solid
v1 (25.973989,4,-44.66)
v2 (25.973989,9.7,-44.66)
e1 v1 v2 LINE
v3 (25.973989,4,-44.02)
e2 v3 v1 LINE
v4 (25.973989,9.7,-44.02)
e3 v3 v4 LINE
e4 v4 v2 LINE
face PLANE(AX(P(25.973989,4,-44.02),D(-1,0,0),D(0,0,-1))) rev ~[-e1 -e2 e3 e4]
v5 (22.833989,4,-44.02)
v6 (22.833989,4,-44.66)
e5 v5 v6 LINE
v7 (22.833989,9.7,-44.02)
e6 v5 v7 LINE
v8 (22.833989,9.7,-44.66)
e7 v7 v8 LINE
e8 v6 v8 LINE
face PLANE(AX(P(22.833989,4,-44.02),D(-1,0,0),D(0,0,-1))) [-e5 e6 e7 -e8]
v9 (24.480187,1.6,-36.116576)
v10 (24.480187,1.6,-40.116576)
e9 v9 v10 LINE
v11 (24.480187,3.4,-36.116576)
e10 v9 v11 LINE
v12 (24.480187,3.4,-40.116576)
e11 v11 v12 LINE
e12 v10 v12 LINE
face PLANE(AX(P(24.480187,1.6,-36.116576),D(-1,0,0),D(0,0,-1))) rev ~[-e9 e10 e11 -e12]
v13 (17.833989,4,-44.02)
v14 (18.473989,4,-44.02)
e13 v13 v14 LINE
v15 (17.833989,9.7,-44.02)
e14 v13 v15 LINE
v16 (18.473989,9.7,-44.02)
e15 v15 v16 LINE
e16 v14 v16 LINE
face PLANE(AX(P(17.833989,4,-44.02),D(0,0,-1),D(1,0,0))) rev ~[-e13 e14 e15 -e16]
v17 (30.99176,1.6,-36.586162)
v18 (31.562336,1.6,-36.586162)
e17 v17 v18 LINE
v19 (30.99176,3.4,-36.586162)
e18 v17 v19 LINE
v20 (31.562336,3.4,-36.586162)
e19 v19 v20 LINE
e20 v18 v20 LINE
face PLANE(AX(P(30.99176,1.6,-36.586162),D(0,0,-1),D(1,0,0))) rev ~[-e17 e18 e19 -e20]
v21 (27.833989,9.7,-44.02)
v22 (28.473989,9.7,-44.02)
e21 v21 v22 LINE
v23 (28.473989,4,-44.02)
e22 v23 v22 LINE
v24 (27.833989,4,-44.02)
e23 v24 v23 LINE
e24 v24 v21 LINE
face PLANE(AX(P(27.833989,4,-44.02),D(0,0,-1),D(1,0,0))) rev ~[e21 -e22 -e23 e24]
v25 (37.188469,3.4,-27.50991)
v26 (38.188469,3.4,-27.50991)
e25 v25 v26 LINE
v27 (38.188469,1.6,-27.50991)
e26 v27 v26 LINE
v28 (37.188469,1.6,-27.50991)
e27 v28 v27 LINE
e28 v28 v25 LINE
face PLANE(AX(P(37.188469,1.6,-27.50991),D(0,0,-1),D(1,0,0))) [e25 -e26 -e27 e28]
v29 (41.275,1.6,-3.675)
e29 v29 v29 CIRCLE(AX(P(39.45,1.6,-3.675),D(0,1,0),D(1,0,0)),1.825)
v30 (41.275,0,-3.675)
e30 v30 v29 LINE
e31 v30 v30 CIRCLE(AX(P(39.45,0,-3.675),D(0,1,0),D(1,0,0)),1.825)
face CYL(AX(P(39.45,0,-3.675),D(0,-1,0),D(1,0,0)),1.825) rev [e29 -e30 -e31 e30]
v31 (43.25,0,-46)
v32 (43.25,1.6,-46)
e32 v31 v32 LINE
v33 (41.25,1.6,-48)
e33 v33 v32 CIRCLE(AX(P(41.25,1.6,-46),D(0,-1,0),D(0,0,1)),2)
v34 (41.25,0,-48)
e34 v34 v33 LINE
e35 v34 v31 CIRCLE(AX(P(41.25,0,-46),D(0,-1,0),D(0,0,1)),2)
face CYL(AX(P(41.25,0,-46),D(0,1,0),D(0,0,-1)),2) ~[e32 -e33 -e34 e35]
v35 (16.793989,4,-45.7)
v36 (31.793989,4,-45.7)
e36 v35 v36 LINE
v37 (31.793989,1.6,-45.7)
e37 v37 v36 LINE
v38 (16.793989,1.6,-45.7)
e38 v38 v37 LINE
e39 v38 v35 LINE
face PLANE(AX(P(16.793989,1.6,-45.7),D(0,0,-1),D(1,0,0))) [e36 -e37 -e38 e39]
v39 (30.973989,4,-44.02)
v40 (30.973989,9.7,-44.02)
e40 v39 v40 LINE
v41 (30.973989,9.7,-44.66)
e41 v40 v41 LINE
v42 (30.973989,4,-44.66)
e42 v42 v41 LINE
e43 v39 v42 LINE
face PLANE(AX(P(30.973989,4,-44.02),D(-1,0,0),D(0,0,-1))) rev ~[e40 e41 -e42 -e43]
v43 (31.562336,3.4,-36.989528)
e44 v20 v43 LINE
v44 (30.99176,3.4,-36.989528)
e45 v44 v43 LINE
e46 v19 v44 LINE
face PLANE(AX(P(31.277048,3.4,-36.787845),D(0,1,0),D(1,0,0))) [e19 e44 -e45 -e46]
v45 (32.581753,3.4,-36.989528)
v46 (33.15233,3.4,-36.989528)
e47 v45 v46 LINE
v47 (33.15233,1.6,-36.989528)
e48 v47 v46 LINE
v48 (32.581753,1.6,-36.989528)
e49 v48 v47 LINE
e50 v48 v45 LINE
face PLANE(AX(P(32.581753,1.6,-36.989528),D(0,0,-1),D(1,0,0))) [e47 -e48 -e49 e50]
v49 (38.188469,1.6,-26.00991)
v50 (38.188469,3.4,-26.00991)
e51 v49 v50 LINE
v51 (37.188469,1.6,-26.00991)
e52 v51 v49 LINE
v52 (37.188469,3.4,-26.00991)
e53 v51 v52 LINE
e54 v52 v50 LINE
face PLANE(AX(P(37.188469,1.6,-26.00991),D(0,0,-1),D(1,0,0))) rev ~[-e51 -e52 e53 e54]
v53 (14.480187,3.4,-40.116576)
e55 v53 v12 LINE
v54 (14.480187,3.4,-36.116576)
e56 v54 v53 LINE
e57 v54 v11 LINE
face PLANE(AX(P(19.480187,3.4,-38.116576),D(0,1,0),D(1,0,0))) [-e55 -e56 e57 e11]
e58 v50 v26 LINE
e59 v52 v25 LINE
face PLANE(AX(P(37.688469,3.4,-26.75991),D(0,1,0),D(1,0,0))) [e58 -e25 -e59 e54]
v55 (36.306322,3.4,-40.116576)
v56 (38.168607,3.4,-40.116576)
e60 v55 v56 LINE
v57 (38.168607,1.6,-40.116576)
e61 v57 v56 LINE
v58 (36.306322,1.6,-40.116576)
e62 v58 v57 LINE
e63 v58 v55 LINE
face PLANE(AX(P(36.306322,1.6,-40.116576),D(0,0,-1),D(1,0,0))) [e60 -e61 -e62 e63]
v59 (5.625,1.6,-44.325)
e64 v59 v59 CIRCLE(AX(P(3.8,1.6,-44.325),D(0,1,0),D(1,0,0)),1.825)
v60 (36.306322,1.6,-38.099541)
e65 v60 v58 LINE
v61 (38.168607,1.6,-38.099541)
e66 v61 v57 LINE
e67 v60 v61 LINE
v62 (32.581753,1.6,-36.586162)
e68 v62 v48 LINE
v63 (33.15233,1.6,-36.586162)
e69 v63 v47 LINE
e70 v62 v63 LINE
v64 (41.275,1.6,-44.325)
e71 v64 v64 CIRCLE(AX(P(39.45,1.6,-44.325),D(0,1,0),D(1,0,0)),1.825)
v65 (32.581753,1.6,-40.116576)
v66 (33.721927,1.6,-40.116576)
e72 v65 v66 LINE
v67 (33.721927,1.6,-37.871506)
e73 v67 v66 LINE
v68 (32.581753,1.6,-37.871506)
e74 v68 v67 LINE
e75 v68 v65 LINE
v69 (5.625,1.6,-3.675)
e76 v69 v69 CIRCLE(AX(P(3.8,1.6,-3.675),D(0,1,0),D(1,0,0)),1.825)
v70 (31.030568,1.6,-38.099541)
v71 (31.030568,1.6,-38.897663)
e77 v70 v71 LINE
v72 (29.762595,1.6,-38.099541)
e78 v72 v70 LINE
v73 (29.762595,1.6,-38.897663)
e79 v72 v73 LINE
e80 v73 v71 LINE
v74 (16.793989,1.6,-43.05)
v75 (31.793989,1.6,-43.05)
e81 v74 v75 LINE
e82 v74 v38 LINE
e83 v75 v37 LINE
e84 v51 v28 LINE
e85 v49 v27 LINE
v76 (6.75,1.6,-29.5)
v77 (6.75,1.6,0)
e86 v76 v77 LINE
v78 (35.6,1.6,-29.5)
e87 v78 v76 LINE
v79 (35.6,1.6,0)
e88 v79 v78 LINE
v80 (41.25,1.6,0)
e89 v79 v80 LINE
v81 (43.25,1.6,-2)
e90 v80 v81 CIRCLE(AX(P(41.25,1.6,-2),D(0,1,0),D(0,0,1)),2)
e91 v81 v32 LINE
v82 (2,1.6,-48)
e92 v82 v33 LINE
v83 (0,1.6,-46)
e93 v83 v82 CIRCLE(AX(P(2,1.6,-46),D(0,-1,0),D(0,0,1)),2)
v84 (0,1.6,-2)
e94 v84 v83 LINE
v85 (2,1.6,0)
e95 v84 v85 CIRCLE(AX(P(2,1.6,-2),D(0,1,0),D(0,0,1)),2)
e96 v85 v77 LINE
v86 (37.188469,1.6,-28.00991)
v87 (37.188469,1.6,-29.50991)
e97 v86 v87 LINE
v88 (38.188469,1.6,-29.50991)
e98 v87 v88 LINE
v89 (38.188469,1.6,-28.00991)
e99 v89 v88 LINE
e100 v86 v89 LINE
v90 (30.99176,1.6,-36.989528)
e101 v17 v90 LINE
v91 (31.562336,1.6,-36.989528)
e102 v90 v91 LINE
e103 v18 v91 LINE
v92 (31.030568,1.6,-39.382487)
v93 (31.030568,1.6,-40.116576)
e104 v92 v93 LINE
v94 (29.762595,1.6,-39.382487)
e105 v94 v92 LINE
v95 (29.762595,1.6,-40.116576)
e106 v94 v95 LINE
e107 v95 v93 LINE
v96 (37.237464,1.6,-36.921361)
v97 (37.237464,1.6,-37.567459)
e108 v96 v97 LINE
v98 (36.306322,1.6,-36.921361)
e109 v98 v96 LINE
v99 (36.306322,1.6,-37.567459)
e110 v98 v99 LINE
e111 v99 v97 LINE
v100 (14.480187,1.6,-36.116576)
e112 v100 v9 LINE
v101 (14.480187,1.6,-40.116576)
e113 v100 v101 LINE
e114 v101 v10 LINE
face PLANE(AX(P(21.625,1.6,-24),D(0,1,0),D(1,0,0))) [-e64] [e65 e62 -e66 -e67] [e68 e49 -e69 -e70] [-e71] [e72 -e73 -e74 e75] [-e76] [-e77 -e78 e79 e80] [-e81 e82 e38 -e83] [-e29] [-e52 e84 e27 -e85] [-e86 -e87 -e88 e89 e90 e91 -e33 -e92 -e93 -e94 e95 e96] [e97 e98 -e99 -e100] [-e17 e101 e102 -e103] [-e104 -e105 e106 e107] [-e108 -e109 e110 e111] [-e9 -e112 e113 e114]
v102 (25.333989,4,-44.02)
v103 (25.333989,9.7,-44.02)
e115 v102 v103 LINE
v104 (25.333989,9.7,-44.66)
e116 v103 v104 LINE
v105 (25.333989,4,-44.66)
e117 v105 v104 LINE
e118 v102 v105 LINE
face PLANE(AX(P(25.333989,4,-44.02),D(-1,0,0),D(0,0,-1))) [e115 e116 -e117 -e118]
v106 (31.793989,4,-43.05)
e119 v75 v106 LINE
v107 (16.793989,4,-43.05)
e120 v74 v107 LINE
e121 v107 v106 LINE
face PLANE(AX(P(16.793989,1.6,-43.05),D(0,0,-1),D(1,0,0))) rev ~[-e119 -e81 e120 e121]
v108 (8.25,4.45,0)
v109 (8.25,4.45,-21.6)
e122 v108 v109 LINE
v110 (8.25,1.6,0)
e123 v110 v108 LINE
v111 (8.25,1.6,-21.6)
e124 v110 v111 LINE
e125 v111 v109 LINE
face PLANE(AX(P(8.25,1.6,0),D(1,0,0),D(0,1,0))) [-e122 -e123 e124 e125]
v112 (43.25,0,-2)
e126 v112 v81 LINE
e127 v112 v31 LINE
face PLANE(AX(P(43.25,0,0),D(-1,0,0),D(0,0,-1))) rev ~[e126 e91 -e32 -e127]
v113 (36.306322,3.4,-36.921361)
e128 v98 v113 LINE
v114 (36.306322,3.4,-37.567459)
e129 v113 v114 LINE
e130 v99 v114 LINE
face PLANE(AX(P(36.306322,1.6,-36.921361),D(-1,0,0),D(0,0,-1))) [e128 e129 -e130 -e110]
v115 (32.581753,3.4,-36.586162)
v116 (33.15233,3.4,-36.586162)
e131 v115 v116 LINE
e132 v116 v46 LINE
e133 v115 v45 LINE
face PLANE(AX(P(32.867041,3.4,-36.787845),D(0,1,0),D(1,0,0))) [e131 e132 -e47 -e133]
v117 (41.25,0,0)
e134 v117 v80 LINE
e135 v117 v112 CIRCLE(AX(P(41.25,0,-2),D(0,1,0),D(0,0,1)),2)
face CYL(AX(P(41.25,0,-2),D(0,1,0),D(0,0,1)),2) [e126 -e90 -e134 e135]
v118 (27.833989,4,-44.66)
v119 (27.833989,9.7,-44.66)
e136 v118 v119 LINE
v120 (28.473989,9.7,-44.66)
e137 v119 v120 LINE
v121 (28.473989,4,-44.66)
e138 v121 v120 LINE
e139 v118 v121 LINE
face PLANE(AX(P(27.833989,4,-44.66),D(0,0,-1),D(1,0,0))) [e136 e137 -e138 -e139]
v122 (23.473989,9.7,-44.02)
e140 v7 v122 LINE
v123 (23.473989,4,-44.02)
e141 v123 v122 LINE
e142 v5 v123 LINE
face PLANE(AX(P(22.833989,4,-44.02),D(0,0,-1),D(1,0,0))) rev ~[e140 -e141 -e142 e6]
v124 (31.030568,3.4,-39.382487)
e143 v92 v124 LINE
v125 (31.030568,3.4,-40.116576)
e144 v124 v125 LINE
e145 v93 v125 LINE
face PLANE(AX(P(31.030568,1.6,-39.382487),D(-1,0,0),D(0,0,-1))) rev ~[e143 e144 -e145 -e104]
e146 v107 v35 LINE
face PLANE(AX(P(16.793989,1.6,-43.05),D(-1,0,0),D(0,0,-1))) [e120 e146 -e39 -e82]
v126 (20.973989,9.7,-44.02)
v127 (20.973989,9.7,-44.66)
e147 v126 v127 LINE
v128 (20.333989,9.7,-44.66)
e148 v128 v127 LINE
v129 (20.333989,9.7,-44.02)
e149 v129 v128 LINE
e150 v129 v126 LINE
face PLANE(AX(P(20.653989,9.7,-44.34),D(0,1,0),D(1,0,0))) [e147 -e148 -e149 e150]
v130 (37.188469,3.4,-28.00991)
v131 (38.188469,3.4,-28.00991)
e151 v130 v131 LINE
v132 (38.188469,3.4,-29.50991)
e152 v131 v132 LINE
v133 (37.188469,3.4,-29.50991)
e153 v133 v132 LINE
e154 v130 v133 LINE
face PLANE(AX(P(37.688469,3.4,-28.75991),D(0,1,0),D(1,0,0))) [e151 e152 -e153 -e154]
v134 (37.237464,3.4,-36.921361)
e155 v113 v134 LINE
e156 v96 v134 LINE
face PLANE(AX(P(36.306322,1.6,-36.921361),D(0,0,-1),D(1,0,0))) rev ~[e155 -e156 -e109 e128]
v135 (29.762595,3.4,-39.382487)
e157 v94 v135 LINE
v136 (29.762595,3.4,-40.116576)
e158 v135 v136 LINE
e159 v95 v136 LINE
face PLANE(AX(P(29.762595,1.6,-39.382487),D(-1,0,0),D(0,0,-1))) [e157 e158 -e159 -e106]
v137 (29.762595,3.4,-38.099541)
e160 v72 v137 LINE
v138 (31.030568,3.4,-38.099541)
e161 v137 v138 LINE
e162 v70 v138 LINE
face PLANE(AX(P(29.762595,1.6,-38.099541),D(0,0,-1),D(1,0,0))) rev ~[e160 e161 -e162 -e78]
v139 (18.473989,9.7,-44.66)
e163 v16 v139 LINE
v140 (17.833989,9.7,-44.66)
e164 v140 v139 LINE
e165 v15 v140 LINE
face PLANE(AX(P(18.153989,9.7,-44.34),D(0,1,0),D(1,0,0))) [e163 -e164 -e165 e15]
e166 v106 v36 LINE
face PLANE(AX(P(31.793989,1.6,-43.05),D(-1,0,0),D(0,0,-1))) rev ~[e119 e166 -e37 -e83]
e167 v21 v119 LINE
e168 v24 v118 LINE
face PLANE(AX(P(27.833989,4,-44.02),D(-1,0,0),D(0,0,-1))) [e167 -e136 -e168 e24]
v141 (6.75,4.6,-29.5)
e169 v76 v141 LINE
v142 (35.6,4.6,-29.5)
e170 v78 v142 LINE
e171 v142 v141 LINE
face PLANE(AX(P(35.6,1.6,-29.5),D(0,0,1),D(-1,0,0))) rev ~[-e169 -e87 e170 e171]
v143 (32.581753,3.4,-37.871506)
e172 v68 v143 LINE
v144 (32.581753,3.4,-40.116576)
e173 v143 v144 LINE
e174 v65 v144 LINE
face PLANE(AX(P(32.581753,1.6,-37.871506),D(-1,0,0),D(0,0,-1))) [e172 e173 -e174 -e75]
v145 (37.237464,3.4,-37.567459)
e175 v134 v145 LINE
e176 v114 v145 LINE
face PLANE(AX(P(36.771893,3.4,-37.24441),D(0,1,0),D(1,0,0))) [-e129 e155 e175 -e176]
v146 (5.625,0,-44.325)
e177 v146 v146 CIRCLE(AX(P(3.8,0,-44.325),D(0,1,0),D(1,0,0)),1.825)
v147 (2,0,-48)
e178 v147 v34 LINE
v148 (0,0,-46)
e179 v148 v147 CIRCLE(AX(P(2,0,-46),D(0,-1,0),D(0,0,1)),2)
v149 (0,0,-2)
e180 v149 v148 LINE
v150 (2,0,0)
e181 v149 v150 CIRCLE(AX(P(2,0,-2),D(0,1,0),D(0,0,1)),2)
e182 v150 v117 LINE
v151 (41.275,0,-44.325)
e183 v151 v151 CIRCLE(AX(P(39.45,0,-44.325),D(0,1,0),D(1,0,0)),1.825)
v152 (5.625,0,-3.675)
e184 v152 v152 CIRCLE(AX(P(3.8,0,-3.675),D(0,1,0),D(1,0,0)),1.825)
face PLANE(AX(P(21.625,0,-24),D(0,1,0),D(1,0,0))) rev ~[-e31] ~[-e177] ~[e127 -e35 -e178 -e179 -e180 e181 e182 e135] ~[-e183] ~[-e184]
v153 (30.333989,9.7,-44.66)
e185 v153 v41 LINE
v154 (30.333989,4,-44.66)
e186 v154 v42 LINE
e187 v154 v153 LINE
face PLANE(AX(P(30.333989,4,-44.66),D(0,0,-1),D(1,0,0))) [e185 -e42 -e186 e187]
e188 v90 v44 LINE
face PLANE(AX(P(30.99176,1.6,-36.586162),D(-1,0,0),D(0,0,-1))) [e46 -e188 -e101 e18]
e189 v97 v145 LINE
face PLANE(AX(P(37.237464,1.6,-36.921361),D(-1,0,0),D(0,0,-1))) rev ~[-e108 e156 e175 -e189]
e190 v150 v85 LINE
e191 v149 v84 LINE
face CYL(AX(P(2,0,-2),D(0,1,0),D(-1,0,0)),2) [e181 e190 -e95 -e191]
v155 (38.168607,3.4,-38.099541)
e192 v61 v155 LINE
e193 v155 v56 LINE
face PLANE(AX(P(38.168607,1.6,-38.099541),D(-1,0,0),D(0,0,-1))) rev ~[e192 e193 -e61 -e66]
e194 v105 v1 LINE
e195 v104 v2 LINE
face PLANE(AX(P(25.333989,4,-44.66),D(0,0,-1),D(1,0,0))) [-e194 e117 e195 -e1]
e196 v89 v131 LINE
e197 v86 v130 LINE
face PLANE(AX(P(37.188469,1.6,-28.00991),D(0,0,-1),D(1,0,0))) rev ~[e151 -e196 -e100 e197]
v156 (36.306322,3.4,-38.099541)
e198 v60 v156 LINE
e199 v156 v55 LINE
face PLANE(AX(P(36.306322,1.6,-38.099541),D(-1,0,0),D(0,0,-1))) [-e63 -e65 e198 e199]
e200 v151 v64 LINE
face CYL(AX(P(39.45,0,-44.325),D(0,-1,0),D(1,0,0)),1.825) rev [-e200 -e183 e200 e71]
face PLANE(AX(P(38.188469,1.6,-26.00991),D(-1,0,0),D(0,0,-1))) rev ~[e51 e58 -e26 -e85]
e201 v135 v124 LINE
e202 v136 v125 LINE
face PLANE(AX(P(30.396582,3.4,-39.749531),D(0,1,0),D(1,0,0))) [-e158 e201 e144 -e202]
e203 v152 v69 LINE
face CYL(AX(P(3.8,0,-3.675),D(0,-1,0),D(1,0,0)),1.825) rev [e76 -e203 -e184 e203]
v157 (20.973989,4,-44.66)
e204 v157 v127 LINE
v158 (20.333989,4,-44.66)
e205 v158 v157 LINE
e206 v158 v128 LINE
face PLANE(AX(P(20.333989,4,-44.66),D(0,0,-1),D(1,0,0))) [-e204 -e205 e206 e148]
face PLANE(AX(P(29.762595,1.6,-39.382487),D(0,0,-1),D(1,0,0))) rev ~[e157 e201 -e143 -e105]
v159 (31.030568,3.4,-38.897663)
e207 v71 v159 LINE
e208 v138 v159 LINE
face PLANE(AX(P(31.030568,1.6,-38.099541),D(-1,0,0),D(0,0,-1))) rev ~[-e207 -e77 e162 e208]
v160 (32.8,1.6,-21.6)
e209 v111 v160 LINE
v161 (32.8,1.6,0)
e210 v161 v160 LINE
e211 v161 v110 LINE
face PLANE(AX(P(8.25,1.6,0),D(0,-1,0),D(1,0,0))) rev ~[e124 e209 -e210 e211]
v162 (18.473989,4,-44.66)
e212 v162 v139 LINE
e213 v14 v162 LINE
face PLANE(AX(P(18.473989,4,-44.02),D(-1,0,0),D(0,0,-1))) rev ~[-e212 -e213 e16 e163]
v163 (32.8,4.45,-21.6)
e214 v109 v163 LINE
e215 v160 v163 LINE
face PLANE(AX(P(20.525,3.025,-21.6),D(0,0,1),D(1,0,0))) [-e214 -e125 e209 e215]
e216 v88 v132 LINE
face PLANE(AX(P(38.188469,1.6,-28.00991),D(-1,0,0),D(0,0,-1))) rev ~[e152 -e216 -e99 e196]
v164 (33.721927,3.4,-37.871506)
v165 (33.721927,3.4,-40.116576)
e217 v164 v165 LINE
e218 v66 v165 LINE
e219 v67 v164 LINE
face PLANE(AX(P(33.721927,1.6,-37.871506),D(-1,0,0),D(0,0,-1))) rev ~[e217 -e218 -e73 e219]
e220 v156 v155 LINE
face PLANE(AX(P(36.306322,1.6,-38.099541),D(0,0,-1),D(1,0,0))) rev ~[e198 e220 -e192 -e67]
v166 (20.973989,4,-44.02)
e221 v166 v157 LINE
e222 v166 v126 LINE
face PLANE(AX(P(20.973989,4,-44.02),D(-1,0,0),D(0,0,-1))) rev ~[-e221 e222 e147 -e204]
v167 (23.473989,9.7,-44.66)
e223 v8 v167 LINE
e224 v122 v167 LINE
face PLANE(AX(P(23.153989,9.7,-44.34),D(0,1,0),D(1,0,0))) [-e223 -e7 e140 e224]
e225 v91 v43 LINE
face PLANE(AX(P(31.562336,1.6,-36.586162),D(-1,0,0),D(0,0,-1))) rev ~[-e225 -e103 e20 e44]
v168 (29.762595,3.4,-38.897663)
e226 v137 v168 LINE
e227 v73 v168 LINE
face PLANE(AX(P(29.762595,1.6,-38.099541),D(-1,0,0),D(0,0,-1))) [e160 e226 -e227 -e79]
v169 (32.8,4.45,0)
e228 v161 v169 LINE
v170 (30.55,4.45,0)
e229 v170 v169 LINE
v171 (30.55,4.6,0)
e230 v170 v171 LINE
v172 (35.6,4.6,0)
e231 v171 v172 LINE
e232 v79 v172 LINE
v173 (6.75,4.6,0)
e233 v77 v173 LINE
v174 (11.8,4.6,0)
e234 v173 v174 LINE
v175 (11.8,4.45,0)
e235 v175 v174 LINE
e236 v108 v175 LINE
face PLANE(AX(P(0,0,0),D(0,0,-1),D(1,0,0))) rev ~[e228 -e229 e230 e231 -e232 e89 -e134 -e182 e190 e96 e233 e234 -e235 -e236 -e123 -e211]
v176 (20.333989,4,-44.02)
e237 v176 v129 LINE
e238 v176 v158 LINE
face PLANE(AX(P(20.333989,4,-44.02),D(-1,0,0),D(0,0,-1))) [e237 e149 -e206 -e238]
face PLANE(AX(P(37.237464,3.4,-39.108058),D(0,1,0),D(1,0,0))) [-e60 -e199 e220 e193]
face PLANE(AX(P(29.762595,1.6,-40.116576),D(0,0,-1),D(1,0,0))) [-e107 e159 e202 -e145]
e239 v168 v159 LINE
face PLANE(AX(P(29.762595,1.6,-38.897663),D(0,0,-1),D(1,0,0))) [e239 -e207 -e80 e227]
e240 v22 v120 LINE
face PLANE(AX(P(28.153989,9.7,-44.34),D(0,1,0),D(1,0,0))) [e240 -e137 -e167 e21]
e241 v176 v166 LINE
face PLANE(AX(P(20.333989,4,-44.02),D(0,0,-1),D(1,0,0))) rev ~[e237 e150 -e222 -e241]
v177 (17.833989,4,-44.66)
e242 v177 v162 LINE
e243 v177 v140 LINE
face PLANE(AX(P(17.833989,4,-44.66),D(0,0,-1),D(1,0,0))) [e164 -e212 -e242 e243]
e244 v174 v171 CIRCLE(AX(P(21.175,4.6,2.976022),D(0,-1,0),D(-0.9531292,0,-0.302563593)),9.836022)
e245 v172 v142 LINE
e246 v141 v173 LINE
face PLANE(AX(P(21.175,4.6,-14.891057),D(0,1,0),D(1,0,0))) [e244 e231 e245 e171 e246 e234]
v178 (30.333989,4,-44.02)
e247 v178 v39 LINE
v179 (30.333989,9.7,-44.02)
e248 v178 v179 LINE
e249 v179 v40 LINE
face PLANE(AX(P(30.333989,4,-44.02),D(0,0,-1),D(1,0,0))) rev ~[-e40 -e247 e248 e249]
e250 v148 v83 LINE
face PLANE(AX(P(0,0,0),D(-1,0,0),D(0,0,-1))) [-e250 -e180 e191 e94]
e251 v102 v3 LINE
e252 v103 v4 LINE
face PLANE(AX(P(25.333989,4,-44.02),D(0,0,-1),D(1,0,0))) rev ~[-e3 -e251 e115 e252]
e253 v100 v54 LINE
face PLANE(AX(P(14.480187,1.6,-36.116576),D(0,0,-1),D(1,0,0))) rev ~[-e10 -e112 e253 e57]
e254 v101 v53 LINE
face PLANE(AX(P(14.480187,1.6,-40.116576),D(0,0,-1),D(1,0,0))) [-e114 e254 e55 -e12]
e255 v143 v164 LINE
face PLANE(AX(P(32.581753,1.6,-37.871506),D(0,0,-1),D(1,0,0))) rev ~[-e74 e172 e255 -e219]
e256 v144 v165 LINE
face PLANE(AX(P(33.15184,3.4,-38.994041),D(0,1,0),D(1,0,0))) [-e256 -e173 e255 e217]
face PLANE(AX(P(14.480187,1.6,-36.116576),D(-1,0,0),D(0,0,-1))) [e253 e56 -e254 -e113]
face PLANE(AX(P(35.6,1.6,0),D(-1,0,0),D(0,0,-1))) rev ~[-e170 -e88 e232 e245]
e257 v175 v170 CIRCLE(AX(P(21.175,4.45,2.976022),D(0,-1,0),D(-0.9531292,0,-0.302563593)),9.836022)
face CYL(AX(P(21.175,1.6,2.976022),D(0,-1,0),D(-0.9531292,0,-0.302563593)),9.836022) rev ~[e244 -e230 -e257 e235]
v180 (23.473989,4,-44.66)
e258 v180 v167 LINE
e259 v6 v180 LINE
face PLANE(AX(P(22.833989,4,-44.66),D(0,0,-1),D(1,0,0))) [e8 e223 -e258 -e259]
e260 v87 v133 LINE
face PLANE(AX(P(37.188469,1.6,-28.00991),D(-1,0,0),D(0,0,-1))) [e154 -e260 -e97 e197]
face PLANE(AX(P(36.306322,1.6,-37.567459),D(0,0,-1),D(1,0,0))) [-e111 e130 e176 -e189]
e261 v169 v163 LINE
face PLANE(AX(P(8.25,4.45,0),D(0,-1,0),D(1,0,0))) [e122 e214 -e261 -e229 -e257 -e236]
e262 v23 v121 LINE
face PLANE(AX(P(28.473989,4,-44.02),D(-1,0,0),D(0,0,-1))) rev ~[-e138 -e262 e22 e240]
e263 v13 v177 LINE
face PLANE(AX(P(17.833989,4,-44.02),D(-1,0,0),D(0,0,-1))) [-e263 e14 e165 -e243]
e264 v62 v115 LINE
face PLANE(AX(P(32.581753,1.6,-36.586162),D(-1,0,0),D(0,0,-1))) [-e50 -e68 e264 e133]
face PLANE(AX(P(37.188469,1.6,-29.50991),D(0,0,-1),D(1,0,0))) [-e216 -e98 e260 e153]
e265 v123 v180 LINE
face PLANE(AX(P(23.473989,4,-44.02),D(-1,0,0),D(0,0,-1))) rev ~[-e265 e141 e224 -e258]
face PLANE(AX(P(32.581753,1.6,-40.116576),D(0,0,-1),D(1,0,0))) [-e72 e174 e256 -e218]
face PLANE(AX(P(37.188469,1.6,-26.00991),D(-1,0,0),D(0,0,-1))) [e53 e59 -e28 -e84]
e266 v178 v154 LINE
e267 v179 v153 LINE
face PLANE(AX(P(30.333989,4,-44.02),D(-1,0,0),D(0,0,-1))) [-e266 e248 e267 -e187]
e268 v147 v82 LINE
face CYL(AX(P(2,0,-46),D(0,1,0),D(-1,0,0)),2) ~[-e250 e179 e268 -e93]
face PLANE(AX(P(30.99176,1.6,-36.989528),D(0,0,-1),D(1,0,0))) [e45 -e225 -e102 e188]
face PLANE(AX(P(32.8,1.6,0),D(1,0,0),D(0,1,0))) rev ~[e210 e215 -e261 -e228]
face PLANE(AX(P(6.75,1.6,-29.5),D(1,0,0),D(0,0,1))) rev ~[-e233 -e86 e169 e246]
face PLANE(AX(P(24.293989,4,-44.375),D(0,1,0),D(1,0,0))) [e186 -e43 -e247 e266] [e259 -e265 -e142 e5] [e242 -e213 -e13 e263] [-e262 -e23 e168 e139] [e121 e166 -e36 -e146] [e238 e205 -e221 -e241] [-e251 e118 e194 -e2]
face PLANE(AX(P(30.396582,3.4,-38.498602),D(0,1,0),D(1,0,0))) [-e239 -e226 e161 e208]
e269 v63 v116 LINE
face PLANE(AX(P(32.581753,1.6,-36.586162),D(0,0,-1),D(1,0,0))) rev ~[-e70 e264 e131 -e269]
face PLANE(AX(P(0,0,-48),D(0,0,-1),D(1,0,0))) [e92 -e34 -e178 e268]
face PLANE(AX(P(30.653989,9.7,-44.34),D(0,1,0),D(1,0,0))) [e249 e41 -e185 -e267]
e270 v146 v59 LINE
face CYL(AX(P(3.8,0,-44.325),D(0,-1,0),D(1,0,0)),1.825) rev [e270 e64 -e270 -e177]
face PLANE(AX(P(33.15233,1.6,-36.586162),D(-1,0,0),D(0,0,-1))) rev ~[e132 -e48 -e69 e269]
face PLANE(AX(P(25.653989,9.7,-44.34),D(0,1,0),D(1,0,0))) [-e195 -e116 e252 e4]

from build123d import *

# Parameters (mm, degrees)
SKETCH1_W               = 43.25
SKETCH1_H               = 48
SKETCH1_R               = 1.825
BOSS_EXTRUDE1_DEPTH     = 1.6
BOSS_EXTRUDE2_DEPTH     = 3
SKETCH3_W               = 24.55
SKETCH3_H               = 2.85
CUT_EXTRUDE1_DEPTH      = 21.6
SKETCH5_W               = 15
SKETCH5_H               = 2.65
BOSS_EXTRUDE4_DEPTH     = 2.4
SKETCH6_W               = 0.64
SKETCH6_H               = 0.64
BOSS_EXTRUDE5_DEPTH     = 5.7
FILLET1_R               = 2
CROQUIS1_W              = 1
CROQUIS1_H              = 1.5
CROQUIS1_W_2            = 10
CROQUIS1_H_2            = 4
CROQUIS1_W_3            = 1.267972753
CROQUIS1_H_3            = 0.734089488
CROQUIS1_H_4            = 0.798121905
CROQUIS1_W_4            = 1.14017415
CROQUIS1_H_5            = 2.245070142
CROQUIS1_W_5            = 1.862284445
CROQUIS1_H_6            = 2.017035312
CROQUIS1_W_6            = 0.931142223
CROQUIS1_H_7            = 0.646098685
CROQUIS1_W_7            = 0.570576299
CROQUIS1_H_8            = 0.403366405
SALIENTE_EXTRUIR1_DEPTH = 1.8


with BuildPart() as part:
    # Sketch1 → Boss-Extrude1 (new body)
    with BuildSketch(Plane(origin=(0, 0, 0), x_dir=(1, 0, 0), z_dir=(0, 1, 0))):
        with Locations((21.625, 24)):
            Rectangle(SKETCH1_W, SKETCH1_H)
        with Locations((3.8, 44.325)):
            Circle(SKETCH1_R, mode=Mode.SUBTRACT)
        with Locations((3.8, 3.675)):
            Circle(SKETCH1_R, mode=Mode.SUBTRACT)
        with Locations((39.45, 44.325)):
            Circle(SKETCH1_R, mode=Mode.SUBTRACT)
        with Locations((39.45, 3.675)):
            Circle(SKETCH1_R, mode=Mode.SUBTRACT)
    extrude(amount=BOSS_EXTRUDE1_DEPTH)

    # Sketch2 → Boss-Extrude2 (add)
    with BuildSketch(Plane(origin=(0, 1.6, 0), x_dir=(1, 0, 0), z_dir=(0, 1, 0))):
        with BuildLine():
            Line((6.75, 0), (11.8, 0))
            ThreePointArc((11.8, 0), (21.175, 6.86), (30.55, 0))
            Line((30.55, 0), (35.6, 0))
            Line((35.6, 0), (35.6, 29.5))
            Line((35.6, 29.5), (6.75, 29.5))
            Line((6.75, 29.5), (6.75, 0))
        make_face()
    extrude(amount=BOSS_EXTRUDE2_DEPTH)

    # Sketch3 → Cut-Extrude1 (cut)
    with BuildSketch(Plane.XY):
        with Locations((20.525, 3.025)):
            Rectangle(SKETCH3_W, SKETCH3_H)
    extrude(amount=-CUT_EXTRUDE1_DEPTH, mode=Mode.SUBTRACT)

    # Sketch5 → Boss-Extrude4 (add)
    with BuildSketch(Plane(origin=(0, 1.6, 0), x_dir=(1, 0, 0), z_dir=(0, 1, 0))):
        with Locations((24.293988912, 44.375)):
            Rectangle(SKETCH5_W, SKETCH5_H)
    extrude(amount=BOSS_EXTRUDE4_DEPTH)

    # Sketch6 → Boss-Extrude5 (add)
    with BuildSketch(Plane(origin=(0, 4, 0), x_dir=(1, 0, 0), z_dir=(0, 1, 0))):
        with Locations((18.153988912, 44.34)):
            Rectangle(SKETCH6_W, SKETCH6_H)
        with Locations((20.653988912, 44.34)):
            Rectangle(SKETCH6_W, SKETCH6_H)
        with Locations((23.153988912, 44.34)):
            Rectangle(SKETCH6_W, SKETCH6_H)
        with Locations((25.653988912, 44.34)):
            Rectangle(SKETCH6_W, SKETCH6_H)
        with Locations((28.153988912, 44.34)):
            Rectangle(SKETCH6_W, SKETCH6_H)
        with Locations((30.653988912, 44.34)):
            Rectangle(SKETCH6_W, SKETCH6_H)
    extrude(amount=BOSS_EXTRUDE5_DEPTH)

    # Fillet1
    fillet1_edges = [part.edges().sort_by_distance(p)[0] for p in [
        (0, 0.8, 0),
        (43.25, 0.8, 0),
        (43.25, 0.8, -48),
        (0, 0.8, -48),
    ]]
    fillet(fillet1_edges, radius=FILLET1_R)

    # Croquis1 → Saliente-Extruir1 (add)
    with BuildSketch(Plane(origin=(0, 1.6, 0), x_dir=(1, 0, 0), z_dir=(0, 1, 0))):
        with Locations((37.688468842, 26.759910401)):
            Rectangle(CROQUIS1_W, CROQUIS1_H)
        with Locations((19.480186858, 38.116576041)):
            Rectangle(CROQUIS1_W_2, CROQUIS1_H_2)
        with Locations((30.396581675, 39.749531297)):
            Rectangle(CROQUIS1_W_3, CROQUIS1_H_3)
        with Locations((30.396581675, 38.498601682)):
            Rectangle(CROQUIS1_W_3, CROQUIS1_H_4)
        with Locations((33.151840343, 38.99404097)):
            Rectangle(CROQUIS1_W_4, CROQUIS1_H_5)
        with Locations((37.237464381, 39.108058385)):
            Rectangle(CROQUIS1_W_5, CROQUIS1_H_6)
        with Locations((36.771893269, 37.244410117)):
            Rectangle(CROQUIS1_W_6, CROQUIS1_H_7)
        with Locations((32.867041418, 36.787844886)):
            Rectangle(CROQUIS1_W_7, CROQUIS1_H_8)
        with Locations((37.688468842, 28.759910401)):
            Rectangle(CROQUIS1_W, CROQUIS1_H)
        with Locations((31.277047992, 36.787844886)):
            Rectangle(CROQUIS1_W_7, CROQUIS1_H_8)
    extrude(amount=SALIENTE_EXTRUIR1_DEPTH)


solid = part.part
